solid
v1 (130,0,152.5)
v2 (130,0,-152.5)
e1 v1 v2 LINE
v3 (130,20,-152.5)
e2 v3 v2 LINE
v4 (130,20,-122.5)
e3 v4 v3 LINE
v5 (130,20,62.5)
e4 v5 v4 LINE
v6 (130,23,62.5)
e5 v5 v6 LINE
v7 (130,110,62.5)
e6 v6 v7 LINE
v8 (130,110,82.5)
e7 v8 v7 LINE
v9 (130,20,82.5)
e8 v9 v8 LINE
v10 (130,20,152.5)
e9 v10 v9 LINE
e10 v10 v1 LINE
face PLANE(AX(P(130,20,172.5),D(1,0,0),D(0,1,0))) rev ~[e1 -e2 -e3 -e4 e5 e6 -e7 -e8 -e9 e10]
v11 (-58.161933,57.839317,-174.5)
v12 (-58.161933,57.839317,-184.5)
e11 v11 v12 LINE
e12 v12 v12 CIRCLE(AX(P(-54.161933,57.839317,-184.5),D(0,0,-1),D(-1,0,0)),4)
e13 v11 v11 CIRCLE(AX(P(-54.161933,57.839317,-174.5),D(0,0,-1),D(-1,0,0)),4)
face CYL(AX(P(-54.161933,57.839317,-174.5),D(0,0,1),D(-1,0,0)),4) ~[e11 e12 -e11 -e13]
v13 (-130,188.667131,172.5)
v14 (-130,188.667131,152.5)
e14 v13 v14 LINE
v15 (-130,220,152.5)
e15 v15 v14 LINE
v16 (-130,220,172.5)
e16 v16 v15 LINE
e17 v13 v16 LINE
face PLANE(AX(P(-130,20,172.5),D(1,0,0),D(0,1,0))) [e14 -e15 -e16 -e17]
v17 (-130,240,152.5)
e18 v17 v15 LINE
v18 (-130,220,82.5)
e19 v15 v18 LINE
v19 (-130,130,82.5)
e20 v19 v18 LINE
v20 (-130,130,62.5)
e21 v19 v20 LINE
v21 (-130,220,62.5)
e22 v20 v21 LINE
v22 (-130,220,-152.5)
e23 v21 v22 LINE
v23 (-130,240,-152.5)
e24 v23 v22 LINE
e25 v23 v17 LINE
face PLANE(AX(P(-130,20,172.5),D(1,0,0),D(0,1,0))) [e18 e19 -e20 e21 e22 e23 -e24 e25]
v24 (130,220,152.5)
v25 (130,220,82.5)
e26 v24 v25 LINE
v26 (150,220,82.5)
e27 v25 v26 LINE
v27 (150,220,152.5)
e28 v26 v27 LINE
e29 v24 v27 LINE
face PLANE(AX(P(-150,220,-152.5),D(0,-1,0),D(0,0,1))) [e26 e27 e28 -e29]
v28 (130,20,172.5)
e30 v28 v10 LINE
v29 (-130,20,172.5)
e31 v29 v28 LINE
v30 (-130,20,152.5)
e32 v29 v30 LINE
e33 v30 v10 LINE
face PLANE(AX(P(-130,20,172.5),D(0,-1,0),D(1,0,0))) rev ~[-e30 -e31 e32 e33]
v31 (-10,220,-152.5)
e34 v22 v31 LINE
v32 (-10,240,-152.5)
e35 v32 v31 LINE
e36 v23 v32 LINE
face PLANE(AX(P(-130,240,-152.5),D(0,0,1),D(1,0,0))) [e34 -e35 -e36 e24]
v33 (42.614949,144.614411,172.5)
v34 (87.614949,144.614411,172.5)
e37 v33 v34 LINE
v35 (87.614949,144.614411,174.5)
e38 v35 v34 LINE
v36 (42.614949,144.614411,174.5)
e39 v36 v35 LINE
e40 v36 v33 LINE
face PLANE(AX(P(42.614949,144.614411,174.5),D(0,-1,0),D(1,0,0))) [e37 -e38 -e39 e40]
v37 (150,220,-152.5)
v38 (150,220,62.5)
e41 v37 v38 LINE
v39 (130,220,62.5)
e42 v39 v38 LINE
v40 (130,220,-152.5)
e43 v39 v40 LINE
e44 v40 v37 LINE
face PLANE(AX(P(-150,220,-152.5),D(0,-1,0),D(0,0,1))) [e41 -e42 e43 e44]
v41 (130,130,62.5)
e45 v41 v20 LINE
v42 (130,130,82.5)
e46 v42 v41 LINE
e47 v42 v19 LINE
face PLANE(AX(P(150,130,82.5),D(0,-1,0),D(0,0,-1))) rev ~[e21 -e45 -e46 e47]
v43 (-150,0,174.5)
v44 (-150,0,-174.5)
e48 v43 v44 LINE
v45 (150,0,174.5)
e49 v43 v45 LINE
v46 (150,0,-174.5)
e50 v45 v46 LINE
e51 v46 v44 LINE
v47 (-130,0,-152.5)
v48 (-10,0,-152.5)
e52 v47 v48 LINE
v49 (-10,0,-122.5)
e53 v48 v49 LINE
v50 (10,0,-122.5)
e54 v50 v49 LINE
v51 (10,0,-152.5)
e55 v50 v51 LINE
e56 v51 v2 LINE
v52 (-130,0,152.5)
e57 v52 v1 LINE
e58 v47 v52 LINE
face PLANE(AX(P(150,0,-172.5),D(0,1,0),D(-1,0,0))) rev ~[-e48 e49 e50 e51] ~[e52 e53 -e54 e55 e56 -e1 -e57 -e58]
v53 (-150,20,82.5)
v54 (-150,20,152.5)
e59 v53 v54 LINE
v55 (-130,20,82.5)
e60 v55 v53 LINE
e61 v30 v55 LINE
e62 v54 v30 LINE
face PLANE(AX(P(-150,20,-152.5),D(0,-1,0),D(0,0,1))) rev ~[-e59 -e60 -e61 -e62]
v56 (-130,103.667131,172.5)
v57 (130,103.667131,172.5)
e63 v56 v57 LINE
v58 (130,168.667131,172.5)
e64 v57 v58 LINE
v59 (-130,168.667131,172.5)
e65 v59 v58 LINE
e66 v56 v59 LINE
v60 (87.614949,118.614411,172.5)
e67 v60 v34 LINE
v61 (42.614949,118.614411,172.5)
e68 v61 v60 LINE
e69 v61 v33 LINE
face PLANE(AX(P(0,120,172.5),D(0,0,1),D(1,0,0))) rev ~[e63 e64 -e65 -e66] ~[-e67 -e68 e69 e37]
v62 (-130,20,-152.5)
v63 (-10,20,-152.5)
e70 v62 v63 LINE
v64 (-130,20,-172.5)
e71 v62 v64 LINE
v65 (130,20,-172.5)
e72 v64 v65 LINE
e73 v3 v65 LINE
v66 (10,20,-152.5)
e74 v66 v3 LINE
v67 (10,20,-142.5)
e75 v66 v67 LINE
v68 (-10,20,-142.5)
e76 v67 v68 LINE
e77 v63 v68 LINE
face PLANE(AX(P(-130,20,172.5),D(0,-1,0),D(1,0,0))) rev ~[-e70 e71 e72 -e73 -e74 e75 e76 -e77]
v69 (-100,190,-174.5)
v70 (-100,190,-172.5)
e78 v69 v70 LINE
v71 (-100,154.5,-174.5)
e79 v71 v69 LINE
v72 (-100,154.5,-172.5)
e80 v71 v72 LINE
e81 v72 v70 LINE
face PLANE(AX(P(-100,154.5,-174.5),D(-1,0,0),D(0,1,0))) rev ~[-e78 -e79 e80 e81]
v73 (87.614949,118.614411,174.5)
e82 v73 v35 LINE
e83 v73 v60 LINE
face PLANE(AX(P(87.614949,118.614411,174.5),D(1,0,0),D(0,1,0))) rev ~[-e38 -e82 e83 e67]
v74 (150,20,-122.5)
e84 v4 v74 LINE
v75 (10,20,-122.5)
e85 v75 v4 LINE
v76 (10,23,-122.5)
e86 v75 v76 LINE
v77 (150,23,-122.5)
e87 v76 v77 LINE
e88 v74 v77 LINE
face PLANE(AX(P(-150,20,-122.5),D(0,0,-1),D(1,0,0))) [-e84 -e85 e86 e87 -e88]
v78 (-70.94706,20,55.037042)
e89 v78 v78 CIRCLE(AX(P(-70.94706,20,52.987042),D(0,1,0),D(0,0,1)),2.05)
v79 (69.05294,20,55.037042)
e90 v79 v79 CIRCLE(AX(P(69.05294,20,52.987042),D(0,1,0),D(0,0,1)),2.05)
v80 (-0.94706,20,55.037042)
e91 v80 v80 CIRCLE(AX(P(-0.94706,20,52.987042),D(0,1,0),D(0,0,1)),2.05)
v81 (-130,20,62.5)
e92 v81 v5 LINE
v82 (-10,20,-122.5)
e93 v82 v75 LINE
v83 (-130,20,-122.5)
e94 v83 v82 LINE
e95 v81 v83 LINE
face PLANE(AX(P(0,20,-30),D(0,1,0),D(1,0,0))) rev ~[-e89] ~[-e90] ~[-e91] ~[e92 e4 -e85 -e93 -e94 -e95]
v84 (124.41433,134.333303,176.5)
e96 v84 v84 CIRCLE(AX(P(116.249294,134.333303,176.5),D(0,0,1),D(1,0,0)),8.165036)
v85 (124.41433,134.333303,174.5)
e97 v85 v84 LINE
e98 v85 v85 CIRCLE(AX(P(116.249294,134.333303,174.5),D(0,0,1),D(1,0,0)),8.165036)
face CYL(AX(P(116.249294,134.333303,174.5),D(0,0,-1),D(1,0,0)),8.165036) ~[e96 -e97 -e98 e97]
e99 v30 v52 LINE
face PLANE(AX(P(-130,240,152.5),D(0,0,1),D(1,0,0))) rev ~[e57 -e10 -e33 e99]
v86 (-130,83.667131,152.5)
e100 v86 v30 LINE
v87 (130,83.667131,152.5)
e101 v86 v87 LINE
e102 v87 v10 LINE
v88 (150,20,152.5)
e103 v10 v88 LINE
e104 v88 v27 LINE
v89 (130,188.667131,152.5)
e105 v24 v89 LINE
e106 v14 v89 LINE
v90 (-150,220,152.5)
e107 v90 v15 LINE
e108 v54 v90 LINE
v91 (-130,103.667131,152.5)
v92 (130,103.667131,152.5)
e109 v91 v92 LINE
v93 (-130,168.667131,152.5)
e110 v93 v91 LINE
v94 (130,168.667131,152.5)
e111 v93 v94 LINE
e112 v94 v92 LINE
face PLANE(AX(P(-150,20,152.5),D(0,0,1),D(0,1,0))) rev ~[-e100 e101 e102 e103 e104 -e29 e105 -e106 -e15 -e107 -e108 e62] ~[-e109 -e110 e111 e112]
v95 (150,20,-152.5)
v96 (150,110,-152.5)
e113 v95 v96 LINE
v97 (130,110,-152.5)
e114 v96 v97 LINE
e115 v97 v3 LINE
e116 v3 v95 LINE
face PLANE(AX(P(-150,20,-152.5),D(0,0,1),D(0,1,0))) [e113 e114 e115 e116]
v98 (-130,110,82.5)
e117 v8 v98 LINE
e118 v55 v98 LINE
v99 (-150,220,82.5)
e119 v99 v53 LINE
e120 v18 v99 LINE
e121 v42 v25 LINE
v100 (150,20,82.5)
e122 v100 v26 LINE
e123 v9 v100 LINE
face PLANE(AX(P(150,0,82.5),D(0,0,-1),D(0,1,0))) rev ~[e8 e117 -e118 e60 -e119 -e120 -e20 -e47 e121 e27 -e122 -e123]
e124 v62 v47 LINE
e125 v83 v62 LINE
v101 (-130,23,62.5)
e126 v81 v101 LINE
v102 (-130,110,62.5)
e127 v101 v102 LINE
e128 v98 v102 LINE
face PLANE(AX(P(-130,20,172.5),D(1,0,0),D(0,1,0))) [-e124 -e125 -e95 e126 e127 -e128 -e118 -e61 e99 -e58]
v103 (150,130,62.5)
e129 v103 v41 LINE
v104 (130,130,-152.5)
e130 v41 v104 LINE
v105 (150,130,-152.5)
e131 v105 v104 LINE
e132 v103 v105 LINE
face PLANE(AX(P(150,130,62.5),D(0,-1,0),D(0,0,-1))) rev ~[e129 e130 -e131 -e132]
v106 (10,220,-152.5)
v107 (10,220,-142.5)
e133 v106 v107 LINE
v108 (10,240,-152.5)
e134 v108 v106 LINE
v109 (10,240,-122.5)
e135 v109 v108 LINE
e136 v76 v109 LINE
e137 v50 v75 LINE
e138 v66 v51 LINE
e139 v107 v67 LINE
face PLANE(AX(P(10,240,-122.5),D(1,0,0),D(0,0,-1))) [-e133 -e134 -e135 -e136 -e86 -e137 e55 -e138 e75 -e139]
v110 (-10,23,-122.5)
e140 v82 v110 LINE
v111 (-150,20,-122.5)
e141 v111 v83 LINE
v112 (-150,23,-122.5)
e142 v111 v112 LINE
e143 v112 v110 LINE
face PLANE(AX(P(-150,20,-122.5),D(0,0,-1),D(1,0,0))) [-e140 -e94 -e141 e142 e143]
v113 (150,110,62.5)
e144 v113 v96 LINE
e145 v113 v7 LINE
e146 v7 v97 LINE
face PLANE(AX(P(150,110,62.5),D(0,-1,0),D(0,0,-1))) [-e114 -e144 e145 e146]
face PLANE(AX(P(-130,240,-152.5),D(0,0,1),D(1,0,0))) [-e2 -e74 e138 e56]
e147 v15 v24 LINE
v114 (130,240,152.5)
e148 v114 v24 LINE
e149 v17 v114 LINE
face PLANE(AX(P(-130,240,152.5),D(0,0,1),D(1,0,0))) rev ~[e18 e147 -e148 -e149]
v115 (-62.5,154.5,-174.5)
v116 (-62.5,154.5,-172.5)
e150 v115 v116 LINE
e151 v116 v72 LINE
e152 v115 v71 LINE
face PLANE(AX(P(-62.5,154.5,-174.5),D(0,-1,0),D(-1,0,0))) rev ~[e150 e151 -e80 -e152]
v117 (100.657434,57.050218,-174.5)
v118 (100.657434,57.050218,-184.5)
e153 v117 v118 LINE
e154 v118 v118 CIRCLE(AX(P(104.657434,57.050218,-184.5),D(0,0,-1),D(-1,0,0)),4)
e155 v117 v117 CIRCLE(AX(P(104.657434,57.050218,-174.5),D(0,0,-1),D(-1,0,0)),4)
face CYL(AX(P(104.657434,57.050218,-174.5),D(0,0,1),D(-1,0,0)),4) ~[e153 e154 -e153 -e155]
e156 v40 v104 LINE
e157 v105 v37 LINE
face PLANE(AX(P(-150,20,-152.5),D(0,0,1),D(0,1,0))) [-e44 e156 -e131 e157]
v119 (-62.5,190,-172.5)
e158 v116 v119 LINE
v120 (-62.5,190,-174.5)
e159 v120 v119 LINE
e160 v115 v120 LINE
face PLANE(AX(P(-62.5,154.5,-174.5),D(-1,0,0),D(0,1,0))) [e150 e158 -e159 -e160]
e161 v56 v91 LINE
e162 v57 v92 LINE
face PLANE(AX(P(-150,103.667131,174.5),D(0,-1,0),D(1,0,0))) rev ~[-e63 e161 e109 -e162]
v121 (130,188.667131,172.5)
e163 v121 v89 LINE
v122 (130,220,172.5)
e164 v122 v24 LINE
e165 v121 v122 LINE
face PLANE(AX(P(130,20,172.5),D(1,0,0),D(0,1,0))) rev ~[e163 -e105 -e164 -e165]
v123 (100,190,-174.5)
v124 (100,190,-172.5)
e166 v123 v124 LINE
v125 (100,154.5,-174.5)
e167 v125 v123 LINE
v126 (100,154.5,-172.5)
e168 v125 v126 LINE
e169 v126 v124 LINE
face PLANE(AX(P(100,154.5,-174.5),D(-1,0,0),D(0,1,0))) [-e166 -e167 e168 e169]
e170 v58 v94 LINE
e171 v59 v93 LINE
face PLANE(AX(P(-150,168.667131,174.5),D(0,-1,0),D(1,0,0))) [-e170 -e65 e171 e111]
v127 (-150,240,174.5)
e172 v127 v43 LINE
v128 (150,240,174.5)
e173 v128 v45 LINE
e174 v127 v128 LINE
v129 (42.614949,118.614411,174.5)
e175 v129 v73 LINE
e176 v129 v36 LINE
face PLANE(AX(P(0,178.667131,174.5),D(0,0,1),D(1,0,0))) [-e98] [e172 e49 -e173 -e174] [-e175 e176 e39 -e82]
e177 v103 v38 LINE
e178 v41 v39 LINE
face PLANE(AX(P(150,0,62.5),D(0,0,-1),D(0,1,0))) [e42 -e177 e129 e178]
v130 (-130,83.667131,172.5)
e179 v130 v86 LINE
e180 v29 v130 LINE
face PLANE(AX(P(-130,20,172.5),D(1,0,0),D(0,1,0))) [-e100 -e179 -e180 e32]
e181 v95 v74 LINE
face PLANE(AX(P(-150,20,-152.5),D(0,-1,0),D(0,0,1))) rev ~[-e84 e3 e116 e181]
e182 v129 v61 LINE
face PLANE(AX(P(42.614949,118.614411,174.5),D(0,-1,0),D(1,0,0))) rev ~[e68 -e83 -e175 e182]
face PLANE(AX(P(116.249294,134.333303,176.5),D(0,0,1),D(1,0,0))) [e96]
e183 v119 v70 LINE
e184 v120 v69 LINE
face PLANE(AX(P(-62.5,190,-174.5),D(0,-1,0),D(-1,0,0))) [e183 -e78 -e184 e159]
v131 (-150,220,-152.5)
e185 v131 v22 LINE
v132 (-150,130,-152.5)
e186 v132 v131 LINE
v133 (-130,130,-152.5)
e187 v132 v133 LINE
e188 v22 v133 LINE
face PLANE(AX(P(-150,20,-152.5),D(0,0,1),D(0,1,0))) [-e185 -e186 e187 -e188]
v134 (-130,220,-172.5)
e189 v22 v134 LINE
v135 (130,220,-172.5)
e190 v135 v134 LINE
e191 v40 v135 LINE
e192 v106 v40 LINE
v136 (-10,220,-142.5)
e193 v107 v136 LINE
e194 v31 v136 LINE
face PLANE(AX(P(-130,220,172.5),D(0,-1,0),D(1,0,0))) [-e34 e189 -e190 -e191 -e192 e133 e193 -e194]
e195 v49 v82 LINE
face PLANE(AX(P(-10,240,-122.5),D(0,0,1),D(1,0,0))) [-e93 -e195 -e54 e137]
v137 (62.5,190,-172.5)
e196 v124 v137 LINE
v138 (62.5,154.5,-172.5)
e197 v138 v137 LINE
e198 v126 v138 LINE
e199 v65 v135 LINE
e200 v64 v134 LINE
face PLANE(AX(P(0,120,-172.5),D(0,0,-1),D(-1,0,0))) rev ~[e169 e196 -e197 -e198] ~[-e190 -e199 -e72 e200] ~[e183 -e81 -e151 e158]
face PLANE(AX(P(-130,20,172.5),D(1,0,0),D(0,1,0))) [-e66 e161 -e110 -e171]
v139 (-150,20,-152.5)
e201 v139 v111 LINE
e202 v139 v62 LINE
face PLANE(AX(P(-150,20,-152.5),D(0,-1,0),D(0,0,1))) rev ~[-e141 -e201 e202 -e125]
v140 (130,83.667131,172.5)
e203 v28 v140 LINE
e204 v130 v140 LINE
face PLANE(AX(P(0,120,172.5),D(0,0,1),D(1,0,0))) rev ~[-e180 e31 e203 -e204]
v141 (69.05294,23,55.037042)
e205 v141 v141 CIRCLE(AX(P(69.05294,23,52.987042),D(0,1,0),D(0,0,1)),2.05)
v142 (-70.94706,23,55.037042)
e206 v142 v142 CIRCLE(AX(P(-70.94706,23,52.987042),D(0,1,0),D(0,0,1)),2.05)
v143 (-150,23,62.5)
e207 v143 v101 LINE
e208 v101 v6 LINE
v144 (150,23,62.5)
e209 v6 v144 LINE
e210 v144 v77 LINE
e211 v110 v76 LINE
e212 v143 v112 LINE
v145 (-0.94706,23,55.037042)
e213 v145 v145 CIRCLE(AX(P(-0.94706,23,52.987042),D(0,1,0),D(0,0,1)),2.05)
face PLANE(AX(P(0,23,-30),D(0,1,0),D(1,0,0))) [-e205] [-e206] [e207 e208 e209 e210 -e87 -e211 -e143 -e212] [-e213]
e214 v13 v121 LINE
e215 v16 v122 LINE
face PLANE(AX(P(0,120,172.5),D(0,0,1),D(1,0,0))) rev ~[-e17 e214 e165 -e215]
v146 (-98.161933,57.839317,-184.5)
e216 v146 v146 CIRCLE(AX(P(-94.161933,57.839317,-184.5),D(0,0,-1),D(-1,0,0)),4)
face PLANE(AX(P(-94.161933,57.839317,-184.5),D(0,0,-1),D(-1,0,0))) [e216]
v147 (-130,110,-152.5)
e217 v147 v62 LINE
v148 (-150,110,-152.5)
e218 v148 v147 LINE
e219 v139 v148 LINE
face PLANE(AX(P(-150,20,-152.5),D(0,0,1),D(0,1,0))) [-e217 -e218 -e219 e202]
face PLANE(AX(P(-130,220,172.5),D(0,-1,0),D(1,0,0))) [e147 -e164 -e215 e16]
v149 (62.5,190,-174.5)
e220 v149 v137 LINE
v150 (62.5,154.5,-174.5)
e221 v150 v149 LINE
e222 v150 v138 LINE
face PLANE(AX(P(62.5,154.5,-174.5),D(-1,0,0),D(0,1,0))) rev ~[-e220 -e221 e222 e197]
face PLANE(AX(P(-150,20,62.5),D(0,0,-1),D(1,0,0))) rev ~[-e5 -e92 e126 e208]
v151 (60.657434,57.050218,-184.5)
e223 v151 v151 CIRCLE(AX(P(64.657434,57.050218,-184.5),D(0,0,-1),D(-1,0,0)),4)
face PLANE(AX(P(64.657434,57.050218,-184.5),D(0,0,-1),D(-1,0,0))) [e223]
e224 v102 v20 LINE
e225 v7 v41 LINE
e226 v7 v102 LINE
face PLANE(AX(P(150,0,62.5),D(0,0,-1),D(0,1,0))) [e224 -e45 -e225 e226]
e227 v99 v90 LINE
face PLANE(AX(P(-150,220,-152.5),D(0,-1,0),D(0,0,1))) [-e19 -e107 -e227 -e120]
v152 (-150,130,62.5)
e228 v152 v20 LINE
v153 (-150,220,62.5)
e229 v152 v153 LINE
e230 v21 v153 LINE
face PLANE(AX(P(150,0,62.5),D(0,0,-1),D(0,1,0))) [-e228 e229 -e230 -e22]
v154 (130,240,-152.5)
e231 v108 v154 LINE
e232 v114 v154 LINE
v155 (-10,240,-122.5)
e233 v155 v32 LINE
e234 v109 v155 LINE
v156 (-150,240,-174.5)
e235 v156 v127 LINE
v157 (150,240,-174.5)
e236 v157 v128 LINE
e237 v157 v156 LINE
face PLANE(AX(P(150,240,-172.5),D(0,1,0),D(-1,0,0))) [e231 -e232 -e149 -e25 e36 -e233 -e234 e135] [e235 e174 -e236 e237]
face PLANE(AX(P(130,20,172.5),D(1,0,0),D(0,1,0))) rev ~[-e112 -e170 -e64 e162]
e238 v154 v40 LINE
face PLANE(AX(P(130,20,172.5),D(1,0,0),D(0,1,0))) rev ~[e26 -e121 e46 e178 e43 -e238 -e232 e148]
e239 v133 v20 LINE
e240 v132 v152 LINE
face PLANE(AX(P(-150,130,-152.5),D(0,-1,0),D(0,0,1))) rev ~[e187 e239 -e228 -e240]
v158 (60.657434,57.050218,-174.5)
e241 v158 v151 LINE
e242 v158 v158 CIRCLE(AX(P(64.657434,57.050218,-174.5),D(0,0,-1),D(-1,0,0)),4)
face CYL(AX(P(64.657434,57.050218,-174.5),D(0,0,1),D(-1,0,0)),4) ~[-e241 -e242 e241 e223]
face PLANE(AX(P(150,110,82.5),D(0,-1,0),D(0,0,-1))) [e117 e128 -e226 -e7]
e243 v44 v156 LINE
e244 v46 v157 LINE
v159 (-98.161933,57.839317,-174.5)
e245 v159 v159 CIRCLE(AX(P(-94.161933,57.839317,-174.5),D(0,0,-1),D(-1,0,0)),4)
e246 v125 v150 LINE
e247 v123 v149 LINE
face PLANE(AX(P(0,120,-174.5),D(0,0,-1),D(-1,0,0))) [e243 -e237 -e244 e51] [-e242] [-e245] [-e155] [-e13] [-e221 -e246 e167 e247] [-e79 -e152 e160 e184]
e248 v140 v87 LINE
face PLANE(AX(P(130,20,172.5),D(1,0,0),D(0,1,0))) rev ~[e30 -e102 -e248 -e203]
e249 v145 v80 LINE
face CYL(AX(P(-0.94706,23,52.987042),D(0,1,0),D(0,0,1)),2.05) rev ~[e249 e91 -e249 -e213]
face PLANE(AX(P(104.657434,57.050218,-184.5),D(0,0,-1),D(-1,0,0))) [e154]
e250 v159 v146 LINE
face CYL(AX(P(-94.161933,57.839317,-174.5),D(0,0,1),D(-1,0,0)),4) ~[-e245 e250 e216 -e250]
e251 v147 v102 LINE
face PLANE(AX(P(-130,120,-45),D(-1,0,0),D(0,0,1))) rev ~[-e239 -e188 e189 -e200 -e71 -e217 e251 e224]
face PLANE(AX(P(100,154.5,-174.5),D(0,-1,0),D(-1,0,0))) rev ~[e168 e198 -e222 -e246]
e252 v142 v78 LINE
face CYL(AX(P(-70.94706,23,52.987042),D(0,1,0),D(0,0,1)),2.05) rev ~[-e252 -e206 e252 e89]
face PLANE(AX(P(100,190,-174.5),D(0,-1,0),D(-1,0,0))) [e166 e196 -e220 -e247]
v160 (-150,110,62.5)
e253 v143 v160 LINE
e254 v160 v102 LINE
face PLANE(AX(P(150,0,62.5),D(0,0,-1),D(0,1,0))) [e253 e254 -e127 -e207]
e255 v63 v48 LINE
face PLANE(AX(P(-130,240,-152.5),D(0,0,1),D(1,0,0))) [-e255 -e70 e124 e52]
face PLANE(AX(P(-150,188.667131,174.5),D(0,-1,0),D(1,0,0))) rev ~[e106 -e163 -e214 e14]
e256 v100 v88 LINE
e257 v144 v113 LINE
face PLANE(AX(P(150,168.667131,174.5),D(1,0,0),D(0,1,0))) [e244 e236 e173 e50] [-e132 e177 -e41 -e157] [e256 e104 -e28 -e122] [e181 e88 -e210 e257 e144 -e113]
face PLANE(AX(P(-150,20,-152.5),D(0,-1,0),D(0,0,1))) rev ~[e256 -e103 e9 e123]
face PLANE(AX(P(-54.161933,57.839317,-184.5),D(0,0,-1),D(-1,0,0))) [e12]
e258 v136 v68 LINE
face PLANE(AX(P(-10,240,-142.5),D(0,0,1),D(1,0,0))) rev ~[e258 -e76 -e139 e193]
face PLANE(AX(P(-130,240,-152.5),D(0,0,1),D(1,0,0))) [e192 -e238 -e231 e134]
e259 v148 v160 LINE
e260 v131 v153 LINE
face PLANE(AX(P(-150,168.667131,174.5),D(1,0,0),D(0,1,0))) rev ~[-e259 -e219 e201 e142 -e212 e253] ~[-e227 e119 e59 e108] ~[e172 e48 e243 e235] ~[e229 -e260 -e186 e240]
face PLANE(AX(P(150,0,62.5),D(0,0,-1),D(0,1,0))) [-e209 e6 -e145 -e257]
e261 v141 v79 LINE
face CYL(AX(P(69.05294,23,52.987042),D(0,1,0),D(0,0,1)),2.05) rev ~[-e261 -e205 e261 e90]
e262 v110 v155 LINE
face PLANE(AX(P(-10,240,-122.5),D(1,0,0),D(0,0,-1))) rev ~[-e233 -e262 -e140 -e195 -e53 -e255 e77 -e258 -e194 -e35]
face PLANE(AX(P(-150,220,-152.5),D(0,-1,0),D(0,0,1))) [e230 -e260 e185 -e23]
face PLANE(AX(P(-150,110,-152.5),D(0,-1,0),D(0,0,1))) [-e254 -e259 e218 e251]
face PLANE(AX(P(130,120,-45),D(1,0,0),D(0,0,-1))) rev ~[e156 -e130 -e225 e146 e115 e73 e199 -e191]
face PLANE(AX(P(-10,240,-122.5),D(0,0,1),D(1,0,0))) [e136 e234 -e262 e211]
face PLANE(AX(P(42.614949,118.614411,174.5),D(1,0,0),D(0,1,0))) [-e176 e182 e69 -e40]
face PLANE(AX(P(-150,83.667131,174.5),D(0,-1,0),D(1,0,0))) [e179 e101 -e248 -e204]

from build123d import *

# Parameters (mm, degrees)
SKETCH_1_W          = 300
SKETCH_1_H          = 345
EXTRUDE_1_DEPTH     = 240
SKETCH_2_W          = 260
SKETCH_2_H          = 305
CUT_EXTRUDE_1_DEPTH = 240
SKETCH_3_W          = 260
SKETCH_3_H          = 200
CUT_EXTRUDE_2_DEPTH = 345
SKETCH_4_W          = 305
SKETCH_4_H          = 200
CUT_EXTRUDE_3_DEPTH = 345
SKETCH_5_W          = 20
SKETCH_5_H          = 240
EXTRUDE_2_DEPTH     = 20
SKETCH_6_W          = 20
SKETCH_6_H          = 240
EXTRUDE_3_DEPTH     = 20
SKETCH_10_W         = 20
SKETCH_10_H         = 240
EXTRUDE_7_DEPTH     = 50
SKETCH_11_W         = 20
SKETCH_11_H         = 200
CUT_EXTRUDE_4_DEPTH = 50
SKETCH_12_W         = 20
SKETCH_12_H         = 20
EXTRUDE_8_DEPTH     = 240
SKETCH_13_W         = 20
SKETCH_13_H         = 20
EXTRUDE_9_DEPTH     = 300
SKETCH_14_W         = 300
SKETCH_14_H         = 185
EXTRUDE_10_DEPTH    = 3
SKETCH_15_R         = 2.05
CUT_EXTRUDE_5_DEPTH = 3
SKETCH_16_W         = 215
SKETCH_16_H         = 20
EXTRUDE_11_DEPTH    = 20
SKETCH_17_W         = 215
SKETCH_17_H         = 20
EXTRUDE_12_DEPTH    = 20
SKETCH_18_W         = 300
SKETCH_18_H         = 240
EXTRUDE_13_DEPTH    = 2
SKETCH_20_W         = 300
SKETCH_20_H         = 240
EXTRUDE_14_DEPTH    = 2
SKETCH_21_R         = 8.165036004
EXTRUDE_15_DEPTH    = 2
SKETCH_22_W         = 300
SKETCH_22_H         = 20
EXTRUDE_16_DEPTH    = 22
SKETCH_24_W         = 45
SKETCH_24_H         = 26
CUT_EXTRUDE_6_DEPTH = 2
SKETCH_25_W         = 37.5
SKETCH_25_H         = 35.5
CUT_EXTRUDE_7_DEPTH = 2
SKETCH_26_W         = 37.5
SKETCH_26_H         = 35.5
CUT_EXTRUDE_8_DEPTH = 2
SKETCH_27_R         = 4
EXTRUDE_17_DEPTH    = 10
SKETCH_28_R         = 4
EXTRUDE_18_DEPTH    = 10


with BuildPart() as part:
    # 草图1 → 凸台-拉伸1 (new body)
    with BuildSketch(Plane(origin=(0, 0, 0), x_dir=(1, 0, 0), z_dir=(0, 1, 0))):
        Rectangle(SKETCH_1_W, SKETCH_1_H)
    extrude(amount=EXTRUDE_1_DEPTH)

    # 草图2 → 切除-拉伸1 (cut)
    with BuildSketch(Plane(origin=(0, 240, 0), x_dir=(1, 0, 0), z_dir=(0, 1, 0))):
        Rectangle(SKETCH_2_W, SKETCH_2_H)
    extrude(amount=-CUT_EXTRUDE_1_DEPTH, mode=Mode.SUBTRACT)

    # 草图3 → 切除-拉伸2 (cut)
    with BuildSketch(Plane.XY.offset(172.5)):
        with Locations((0, 120)):
            Rectangle(SKETCH_3_W, SKETCH_3_H)
    extrude(amount=-CUT_EXTRUDE_2_DEPTH, mode=Mode.SUBTRACT)

    # 草图4 → 切除-拉伸3 (cut)
    with BuildSketch(Plane.ZY.offset(150)):
        with Locations((0, 120)):
            Rectangle(SKETCH_4_W, SKETCH_4_H)
    extrude(amount=-CUT_EXTRUDE_3_DEPTH, mode=Mode.SUBTRACT)

    # 草图5 → 凸台-拉伸2 (add)
    with BuildSketch(Plane(origin=(150, 0, 0), x_dir=(0, 0, -1), z_dir=(1, 0, 0))):
        with Locations((-72.5, 120)):
            Rectangle(SKETCH_5_W, SKETCH_5_H)
    extrude(amount=-EXTRUDE_2_DEPTH)

    # 草图6 → 凸台-拉伸3 (add)
    with BuildSketch(Plane.ZY.offset(150)):
        with Locations((72.5, 120)):
            Rectangle(SKETCH_6_W, SKETCH_6_H)
    extrude(amount=-EXTRUDE_3_DEPTH)

    # 草图10 → 凸台-拉伸7 (add)
    with BuildSketch(Plane(origin=(0, 0, -172.5), x_dir=(-1, 0, 0), z_dir=(0, 0, -1))):
        with Locations((0, 120)):
            Rectangle(SKETCH_10_W, SKETCH_10_H)
    extrude(amount=-EXTRUDE_7_DEPTH)

    # 草图11 → 切除-拉伸4 (cut)
    with BuildSketch(Plane(origin=(0, 0, -172.5), x_dir=(-1, 0, 0), z_dir=(0, 0, -1))):
        with Locations((0, 120)):
            Rectangle(SKETCH_11_W, SKETCH_11_H)
    extrude(amount=-CUT_EXTRUDE_4_DEPTH, mode=Mode.SUBTRACT)

    # 草图12 → 凸台-拉伸8 (add)
    with BuildSketch(Plane(origin=(0, 240, 0), x_dir=(1, 0, 0), z_dir=(0, 1, 0))):
        with Locations((0, 132.5)):
            Rectangle(SKETCH_12_W, SKETCH_12_H)
    extrude(amount=-EXTRUDE_8_DEPTH)

    # 草图13 → 凸台-拉伸9 (add)
    with BuildSketch(Plane(origin=(150, 0, 0), x_dir=(0, 0, -1), z_dir=(1, 0, 0))):
        with Locations((-72.5, 120)):
            Rectangle(SKETCH_13_W, SKETCH_13_H)
    extrude(amount=-EXTRUDE_9_DEPTH)

    # 草图14 → 凸台-拉伸10 (add)
    with BuildSketch(Plane(origin=(0, 20, 0), x_dir=(1, 0, 0), z_dir=(0, 1, 0))):
        with Locations((0, 30)):
            Rectangle(SKETCH_14_W, SKETCH_14_H)
    extrude(amount=EXTRUDE_10_DEPTH)

    # 草图15 → 切除-拉伸5 (cut)
    with BuildSketch(Plane(origin=(0, 23, 0), x_dir=(1, 0, 0), z_dir=(0, 1, 0))):
        with Locations(Location((-70.947060375, -52.987042074, 0), (0, 0, 270))):
            Circle(SKETCH_15_R)
        with Locations(Location((-0.947060375, -52.987042074, 0), (0, 0, 270))):
            Circle(SKETCH_15_R)
        with Locations(Location((69.052939625, -52.987042074, 0), (0, 0, 270))):
            Circle(SKETCH_15_R)
    extrude(amount=-CUT_EXTRUDE_5_DEPTH, mode=Mode.SUBTRACT)

    # 草图16 → 凸台-拉伸11 (add)
    with BuildSketch(Plane(origin=(150, 0, 0), x_dir=(0, 0, -1), z_dir=(1, 0, 0))):
        with Locations((45, 120)):
            Rectangle(SKETCH_16_W, SKETCH_16_H)
    extrude(amount=-EXTRUDE_11_DEPTH)

    # 草图17 → 凸台-拉伸12 (add)
    with BuildSketch(Plane.ZY.offset(150)):
        with Locations((-45, 120)):
            Rectangle(SKETCH_17_W, SKETCH_17_H)
    extrude(amount=-EXTRUDE_12_DEPTH)

    # 草图18 → 凸台-拉伸13 (add)
    with BuildSketch(Plane.XY.offset(172.5)):
        with Locations((0, 120)):
            Rectangle(SKETCH_18_W, SKETCH_18_H)
    extrude(amount=EXTRUDE_13_DEPTH)

    # 草图20 → 凸台-拉伸14 (add)
    with BuildSketch(Plane(origin=(0, 0, -172.5), x_dir=(-1, 0, 0), z_dir=(0, 0, -1))):
        with Locations((0, 120)):
            Rectangle(SKETCH_20_W, SKETCH_20_H)
    extrude(amount=EXTRUDE_14_DEPTH)

    # 草图21 → 凸台-拉伸15 (add)
    with BuildSketch(Plane.XY.offset(174.5)):
        with Locations((116.249294112, 134.333303452)):
            Circle(SKETCH_21_R)
    extrude(amount=EXTRUDE_15_DEPTH)

    # 草图22 → 凸台-拉伸16 (add)
    with BuildSketch(Plane.XY.offset(174.5)):
        with Locations((0, 178.667130527)):
            Rectangle(SKETCH_22_W, SKETCH_22_H)
        with Locations((0, 93.667130527)):
            Rectangle(SKETCH_22_W, SKETCH_22_H)
    extrude(amount=-EXTRUDE_16_DEPTH)

    # 草图24 → 切除-拉伸6 (cut)
    with BuildSketch(Plane.XY.offset(174.5)):
        with Locations((65.114949377, 131.614411481)):
            Rectangle(SKETCH_24_W, SKETCH_24_H)
    extrude(amount=-CUT_EXTRUDE_6_DEPTH, mode=Mode.SUBTRACT)

    # 草图25 → 切除-拉伸7 (cut)
    with BuildSketch(Plane(origin=(0, 0, -174.5), x_dir=(-1, 0, 0), z_dir=(0, 0, -1))):
        with Locations((81.25, 172.25)):
            Rectangle(SKETCH_25_W, SKETCH_25_H)
    extrude(amount=-CUT_EXTRUDE_7_DEPTH, mode=Mode.SUBTRACT)

    # 草图26 → 切除-拉伸8 (cut)
    with BuildSketch(Plane(origin=(0, 0, -174.5), x_dir=(-1, 0, 0), z_dir=(0, 0, -1))):
        with Locations((-81.25, 172.25)):
            Rectangle(SKETCH_26_W, SKETCH_26_H)
    extrude(amount=-CUT_EXTRUDE_8_DEPTH, mode=Mode.SUBTRACT)

    # 草图27 → 凸台-拉伸17 (add)
    with BuildSketch(Plane(origin=(0, 0, -174.5), x_dir=(-1, 0, 0), z_dir=(0, 0, -1))):
        with Locations((-104.657434269, 57.050217573)):
            Circle(SKETCH_27_R)
        with Locations((-64.657434269, 57.050217573)):
            Circle(SKETCH_27_R)
    extrude(amount=EXTRUDE_17_DEPTH)

    # 草图28 → 凸台-拉伸18 (add)
    with BuildSketch(Plane(origin=(0, 0, -174.5), x_dir=(-1, 0, 0), z_dir=(0, 0, -1))):
        with Locations((54.161932501, 57.839316769)):
            Circle(SKETCH_28_R)
        with Locations((94.161932501, 57.839316769)):
            Circle(SKETCH_28_R)
    extrude(amount=EXTRUDE_18_DEPTH)


solid = part.part
